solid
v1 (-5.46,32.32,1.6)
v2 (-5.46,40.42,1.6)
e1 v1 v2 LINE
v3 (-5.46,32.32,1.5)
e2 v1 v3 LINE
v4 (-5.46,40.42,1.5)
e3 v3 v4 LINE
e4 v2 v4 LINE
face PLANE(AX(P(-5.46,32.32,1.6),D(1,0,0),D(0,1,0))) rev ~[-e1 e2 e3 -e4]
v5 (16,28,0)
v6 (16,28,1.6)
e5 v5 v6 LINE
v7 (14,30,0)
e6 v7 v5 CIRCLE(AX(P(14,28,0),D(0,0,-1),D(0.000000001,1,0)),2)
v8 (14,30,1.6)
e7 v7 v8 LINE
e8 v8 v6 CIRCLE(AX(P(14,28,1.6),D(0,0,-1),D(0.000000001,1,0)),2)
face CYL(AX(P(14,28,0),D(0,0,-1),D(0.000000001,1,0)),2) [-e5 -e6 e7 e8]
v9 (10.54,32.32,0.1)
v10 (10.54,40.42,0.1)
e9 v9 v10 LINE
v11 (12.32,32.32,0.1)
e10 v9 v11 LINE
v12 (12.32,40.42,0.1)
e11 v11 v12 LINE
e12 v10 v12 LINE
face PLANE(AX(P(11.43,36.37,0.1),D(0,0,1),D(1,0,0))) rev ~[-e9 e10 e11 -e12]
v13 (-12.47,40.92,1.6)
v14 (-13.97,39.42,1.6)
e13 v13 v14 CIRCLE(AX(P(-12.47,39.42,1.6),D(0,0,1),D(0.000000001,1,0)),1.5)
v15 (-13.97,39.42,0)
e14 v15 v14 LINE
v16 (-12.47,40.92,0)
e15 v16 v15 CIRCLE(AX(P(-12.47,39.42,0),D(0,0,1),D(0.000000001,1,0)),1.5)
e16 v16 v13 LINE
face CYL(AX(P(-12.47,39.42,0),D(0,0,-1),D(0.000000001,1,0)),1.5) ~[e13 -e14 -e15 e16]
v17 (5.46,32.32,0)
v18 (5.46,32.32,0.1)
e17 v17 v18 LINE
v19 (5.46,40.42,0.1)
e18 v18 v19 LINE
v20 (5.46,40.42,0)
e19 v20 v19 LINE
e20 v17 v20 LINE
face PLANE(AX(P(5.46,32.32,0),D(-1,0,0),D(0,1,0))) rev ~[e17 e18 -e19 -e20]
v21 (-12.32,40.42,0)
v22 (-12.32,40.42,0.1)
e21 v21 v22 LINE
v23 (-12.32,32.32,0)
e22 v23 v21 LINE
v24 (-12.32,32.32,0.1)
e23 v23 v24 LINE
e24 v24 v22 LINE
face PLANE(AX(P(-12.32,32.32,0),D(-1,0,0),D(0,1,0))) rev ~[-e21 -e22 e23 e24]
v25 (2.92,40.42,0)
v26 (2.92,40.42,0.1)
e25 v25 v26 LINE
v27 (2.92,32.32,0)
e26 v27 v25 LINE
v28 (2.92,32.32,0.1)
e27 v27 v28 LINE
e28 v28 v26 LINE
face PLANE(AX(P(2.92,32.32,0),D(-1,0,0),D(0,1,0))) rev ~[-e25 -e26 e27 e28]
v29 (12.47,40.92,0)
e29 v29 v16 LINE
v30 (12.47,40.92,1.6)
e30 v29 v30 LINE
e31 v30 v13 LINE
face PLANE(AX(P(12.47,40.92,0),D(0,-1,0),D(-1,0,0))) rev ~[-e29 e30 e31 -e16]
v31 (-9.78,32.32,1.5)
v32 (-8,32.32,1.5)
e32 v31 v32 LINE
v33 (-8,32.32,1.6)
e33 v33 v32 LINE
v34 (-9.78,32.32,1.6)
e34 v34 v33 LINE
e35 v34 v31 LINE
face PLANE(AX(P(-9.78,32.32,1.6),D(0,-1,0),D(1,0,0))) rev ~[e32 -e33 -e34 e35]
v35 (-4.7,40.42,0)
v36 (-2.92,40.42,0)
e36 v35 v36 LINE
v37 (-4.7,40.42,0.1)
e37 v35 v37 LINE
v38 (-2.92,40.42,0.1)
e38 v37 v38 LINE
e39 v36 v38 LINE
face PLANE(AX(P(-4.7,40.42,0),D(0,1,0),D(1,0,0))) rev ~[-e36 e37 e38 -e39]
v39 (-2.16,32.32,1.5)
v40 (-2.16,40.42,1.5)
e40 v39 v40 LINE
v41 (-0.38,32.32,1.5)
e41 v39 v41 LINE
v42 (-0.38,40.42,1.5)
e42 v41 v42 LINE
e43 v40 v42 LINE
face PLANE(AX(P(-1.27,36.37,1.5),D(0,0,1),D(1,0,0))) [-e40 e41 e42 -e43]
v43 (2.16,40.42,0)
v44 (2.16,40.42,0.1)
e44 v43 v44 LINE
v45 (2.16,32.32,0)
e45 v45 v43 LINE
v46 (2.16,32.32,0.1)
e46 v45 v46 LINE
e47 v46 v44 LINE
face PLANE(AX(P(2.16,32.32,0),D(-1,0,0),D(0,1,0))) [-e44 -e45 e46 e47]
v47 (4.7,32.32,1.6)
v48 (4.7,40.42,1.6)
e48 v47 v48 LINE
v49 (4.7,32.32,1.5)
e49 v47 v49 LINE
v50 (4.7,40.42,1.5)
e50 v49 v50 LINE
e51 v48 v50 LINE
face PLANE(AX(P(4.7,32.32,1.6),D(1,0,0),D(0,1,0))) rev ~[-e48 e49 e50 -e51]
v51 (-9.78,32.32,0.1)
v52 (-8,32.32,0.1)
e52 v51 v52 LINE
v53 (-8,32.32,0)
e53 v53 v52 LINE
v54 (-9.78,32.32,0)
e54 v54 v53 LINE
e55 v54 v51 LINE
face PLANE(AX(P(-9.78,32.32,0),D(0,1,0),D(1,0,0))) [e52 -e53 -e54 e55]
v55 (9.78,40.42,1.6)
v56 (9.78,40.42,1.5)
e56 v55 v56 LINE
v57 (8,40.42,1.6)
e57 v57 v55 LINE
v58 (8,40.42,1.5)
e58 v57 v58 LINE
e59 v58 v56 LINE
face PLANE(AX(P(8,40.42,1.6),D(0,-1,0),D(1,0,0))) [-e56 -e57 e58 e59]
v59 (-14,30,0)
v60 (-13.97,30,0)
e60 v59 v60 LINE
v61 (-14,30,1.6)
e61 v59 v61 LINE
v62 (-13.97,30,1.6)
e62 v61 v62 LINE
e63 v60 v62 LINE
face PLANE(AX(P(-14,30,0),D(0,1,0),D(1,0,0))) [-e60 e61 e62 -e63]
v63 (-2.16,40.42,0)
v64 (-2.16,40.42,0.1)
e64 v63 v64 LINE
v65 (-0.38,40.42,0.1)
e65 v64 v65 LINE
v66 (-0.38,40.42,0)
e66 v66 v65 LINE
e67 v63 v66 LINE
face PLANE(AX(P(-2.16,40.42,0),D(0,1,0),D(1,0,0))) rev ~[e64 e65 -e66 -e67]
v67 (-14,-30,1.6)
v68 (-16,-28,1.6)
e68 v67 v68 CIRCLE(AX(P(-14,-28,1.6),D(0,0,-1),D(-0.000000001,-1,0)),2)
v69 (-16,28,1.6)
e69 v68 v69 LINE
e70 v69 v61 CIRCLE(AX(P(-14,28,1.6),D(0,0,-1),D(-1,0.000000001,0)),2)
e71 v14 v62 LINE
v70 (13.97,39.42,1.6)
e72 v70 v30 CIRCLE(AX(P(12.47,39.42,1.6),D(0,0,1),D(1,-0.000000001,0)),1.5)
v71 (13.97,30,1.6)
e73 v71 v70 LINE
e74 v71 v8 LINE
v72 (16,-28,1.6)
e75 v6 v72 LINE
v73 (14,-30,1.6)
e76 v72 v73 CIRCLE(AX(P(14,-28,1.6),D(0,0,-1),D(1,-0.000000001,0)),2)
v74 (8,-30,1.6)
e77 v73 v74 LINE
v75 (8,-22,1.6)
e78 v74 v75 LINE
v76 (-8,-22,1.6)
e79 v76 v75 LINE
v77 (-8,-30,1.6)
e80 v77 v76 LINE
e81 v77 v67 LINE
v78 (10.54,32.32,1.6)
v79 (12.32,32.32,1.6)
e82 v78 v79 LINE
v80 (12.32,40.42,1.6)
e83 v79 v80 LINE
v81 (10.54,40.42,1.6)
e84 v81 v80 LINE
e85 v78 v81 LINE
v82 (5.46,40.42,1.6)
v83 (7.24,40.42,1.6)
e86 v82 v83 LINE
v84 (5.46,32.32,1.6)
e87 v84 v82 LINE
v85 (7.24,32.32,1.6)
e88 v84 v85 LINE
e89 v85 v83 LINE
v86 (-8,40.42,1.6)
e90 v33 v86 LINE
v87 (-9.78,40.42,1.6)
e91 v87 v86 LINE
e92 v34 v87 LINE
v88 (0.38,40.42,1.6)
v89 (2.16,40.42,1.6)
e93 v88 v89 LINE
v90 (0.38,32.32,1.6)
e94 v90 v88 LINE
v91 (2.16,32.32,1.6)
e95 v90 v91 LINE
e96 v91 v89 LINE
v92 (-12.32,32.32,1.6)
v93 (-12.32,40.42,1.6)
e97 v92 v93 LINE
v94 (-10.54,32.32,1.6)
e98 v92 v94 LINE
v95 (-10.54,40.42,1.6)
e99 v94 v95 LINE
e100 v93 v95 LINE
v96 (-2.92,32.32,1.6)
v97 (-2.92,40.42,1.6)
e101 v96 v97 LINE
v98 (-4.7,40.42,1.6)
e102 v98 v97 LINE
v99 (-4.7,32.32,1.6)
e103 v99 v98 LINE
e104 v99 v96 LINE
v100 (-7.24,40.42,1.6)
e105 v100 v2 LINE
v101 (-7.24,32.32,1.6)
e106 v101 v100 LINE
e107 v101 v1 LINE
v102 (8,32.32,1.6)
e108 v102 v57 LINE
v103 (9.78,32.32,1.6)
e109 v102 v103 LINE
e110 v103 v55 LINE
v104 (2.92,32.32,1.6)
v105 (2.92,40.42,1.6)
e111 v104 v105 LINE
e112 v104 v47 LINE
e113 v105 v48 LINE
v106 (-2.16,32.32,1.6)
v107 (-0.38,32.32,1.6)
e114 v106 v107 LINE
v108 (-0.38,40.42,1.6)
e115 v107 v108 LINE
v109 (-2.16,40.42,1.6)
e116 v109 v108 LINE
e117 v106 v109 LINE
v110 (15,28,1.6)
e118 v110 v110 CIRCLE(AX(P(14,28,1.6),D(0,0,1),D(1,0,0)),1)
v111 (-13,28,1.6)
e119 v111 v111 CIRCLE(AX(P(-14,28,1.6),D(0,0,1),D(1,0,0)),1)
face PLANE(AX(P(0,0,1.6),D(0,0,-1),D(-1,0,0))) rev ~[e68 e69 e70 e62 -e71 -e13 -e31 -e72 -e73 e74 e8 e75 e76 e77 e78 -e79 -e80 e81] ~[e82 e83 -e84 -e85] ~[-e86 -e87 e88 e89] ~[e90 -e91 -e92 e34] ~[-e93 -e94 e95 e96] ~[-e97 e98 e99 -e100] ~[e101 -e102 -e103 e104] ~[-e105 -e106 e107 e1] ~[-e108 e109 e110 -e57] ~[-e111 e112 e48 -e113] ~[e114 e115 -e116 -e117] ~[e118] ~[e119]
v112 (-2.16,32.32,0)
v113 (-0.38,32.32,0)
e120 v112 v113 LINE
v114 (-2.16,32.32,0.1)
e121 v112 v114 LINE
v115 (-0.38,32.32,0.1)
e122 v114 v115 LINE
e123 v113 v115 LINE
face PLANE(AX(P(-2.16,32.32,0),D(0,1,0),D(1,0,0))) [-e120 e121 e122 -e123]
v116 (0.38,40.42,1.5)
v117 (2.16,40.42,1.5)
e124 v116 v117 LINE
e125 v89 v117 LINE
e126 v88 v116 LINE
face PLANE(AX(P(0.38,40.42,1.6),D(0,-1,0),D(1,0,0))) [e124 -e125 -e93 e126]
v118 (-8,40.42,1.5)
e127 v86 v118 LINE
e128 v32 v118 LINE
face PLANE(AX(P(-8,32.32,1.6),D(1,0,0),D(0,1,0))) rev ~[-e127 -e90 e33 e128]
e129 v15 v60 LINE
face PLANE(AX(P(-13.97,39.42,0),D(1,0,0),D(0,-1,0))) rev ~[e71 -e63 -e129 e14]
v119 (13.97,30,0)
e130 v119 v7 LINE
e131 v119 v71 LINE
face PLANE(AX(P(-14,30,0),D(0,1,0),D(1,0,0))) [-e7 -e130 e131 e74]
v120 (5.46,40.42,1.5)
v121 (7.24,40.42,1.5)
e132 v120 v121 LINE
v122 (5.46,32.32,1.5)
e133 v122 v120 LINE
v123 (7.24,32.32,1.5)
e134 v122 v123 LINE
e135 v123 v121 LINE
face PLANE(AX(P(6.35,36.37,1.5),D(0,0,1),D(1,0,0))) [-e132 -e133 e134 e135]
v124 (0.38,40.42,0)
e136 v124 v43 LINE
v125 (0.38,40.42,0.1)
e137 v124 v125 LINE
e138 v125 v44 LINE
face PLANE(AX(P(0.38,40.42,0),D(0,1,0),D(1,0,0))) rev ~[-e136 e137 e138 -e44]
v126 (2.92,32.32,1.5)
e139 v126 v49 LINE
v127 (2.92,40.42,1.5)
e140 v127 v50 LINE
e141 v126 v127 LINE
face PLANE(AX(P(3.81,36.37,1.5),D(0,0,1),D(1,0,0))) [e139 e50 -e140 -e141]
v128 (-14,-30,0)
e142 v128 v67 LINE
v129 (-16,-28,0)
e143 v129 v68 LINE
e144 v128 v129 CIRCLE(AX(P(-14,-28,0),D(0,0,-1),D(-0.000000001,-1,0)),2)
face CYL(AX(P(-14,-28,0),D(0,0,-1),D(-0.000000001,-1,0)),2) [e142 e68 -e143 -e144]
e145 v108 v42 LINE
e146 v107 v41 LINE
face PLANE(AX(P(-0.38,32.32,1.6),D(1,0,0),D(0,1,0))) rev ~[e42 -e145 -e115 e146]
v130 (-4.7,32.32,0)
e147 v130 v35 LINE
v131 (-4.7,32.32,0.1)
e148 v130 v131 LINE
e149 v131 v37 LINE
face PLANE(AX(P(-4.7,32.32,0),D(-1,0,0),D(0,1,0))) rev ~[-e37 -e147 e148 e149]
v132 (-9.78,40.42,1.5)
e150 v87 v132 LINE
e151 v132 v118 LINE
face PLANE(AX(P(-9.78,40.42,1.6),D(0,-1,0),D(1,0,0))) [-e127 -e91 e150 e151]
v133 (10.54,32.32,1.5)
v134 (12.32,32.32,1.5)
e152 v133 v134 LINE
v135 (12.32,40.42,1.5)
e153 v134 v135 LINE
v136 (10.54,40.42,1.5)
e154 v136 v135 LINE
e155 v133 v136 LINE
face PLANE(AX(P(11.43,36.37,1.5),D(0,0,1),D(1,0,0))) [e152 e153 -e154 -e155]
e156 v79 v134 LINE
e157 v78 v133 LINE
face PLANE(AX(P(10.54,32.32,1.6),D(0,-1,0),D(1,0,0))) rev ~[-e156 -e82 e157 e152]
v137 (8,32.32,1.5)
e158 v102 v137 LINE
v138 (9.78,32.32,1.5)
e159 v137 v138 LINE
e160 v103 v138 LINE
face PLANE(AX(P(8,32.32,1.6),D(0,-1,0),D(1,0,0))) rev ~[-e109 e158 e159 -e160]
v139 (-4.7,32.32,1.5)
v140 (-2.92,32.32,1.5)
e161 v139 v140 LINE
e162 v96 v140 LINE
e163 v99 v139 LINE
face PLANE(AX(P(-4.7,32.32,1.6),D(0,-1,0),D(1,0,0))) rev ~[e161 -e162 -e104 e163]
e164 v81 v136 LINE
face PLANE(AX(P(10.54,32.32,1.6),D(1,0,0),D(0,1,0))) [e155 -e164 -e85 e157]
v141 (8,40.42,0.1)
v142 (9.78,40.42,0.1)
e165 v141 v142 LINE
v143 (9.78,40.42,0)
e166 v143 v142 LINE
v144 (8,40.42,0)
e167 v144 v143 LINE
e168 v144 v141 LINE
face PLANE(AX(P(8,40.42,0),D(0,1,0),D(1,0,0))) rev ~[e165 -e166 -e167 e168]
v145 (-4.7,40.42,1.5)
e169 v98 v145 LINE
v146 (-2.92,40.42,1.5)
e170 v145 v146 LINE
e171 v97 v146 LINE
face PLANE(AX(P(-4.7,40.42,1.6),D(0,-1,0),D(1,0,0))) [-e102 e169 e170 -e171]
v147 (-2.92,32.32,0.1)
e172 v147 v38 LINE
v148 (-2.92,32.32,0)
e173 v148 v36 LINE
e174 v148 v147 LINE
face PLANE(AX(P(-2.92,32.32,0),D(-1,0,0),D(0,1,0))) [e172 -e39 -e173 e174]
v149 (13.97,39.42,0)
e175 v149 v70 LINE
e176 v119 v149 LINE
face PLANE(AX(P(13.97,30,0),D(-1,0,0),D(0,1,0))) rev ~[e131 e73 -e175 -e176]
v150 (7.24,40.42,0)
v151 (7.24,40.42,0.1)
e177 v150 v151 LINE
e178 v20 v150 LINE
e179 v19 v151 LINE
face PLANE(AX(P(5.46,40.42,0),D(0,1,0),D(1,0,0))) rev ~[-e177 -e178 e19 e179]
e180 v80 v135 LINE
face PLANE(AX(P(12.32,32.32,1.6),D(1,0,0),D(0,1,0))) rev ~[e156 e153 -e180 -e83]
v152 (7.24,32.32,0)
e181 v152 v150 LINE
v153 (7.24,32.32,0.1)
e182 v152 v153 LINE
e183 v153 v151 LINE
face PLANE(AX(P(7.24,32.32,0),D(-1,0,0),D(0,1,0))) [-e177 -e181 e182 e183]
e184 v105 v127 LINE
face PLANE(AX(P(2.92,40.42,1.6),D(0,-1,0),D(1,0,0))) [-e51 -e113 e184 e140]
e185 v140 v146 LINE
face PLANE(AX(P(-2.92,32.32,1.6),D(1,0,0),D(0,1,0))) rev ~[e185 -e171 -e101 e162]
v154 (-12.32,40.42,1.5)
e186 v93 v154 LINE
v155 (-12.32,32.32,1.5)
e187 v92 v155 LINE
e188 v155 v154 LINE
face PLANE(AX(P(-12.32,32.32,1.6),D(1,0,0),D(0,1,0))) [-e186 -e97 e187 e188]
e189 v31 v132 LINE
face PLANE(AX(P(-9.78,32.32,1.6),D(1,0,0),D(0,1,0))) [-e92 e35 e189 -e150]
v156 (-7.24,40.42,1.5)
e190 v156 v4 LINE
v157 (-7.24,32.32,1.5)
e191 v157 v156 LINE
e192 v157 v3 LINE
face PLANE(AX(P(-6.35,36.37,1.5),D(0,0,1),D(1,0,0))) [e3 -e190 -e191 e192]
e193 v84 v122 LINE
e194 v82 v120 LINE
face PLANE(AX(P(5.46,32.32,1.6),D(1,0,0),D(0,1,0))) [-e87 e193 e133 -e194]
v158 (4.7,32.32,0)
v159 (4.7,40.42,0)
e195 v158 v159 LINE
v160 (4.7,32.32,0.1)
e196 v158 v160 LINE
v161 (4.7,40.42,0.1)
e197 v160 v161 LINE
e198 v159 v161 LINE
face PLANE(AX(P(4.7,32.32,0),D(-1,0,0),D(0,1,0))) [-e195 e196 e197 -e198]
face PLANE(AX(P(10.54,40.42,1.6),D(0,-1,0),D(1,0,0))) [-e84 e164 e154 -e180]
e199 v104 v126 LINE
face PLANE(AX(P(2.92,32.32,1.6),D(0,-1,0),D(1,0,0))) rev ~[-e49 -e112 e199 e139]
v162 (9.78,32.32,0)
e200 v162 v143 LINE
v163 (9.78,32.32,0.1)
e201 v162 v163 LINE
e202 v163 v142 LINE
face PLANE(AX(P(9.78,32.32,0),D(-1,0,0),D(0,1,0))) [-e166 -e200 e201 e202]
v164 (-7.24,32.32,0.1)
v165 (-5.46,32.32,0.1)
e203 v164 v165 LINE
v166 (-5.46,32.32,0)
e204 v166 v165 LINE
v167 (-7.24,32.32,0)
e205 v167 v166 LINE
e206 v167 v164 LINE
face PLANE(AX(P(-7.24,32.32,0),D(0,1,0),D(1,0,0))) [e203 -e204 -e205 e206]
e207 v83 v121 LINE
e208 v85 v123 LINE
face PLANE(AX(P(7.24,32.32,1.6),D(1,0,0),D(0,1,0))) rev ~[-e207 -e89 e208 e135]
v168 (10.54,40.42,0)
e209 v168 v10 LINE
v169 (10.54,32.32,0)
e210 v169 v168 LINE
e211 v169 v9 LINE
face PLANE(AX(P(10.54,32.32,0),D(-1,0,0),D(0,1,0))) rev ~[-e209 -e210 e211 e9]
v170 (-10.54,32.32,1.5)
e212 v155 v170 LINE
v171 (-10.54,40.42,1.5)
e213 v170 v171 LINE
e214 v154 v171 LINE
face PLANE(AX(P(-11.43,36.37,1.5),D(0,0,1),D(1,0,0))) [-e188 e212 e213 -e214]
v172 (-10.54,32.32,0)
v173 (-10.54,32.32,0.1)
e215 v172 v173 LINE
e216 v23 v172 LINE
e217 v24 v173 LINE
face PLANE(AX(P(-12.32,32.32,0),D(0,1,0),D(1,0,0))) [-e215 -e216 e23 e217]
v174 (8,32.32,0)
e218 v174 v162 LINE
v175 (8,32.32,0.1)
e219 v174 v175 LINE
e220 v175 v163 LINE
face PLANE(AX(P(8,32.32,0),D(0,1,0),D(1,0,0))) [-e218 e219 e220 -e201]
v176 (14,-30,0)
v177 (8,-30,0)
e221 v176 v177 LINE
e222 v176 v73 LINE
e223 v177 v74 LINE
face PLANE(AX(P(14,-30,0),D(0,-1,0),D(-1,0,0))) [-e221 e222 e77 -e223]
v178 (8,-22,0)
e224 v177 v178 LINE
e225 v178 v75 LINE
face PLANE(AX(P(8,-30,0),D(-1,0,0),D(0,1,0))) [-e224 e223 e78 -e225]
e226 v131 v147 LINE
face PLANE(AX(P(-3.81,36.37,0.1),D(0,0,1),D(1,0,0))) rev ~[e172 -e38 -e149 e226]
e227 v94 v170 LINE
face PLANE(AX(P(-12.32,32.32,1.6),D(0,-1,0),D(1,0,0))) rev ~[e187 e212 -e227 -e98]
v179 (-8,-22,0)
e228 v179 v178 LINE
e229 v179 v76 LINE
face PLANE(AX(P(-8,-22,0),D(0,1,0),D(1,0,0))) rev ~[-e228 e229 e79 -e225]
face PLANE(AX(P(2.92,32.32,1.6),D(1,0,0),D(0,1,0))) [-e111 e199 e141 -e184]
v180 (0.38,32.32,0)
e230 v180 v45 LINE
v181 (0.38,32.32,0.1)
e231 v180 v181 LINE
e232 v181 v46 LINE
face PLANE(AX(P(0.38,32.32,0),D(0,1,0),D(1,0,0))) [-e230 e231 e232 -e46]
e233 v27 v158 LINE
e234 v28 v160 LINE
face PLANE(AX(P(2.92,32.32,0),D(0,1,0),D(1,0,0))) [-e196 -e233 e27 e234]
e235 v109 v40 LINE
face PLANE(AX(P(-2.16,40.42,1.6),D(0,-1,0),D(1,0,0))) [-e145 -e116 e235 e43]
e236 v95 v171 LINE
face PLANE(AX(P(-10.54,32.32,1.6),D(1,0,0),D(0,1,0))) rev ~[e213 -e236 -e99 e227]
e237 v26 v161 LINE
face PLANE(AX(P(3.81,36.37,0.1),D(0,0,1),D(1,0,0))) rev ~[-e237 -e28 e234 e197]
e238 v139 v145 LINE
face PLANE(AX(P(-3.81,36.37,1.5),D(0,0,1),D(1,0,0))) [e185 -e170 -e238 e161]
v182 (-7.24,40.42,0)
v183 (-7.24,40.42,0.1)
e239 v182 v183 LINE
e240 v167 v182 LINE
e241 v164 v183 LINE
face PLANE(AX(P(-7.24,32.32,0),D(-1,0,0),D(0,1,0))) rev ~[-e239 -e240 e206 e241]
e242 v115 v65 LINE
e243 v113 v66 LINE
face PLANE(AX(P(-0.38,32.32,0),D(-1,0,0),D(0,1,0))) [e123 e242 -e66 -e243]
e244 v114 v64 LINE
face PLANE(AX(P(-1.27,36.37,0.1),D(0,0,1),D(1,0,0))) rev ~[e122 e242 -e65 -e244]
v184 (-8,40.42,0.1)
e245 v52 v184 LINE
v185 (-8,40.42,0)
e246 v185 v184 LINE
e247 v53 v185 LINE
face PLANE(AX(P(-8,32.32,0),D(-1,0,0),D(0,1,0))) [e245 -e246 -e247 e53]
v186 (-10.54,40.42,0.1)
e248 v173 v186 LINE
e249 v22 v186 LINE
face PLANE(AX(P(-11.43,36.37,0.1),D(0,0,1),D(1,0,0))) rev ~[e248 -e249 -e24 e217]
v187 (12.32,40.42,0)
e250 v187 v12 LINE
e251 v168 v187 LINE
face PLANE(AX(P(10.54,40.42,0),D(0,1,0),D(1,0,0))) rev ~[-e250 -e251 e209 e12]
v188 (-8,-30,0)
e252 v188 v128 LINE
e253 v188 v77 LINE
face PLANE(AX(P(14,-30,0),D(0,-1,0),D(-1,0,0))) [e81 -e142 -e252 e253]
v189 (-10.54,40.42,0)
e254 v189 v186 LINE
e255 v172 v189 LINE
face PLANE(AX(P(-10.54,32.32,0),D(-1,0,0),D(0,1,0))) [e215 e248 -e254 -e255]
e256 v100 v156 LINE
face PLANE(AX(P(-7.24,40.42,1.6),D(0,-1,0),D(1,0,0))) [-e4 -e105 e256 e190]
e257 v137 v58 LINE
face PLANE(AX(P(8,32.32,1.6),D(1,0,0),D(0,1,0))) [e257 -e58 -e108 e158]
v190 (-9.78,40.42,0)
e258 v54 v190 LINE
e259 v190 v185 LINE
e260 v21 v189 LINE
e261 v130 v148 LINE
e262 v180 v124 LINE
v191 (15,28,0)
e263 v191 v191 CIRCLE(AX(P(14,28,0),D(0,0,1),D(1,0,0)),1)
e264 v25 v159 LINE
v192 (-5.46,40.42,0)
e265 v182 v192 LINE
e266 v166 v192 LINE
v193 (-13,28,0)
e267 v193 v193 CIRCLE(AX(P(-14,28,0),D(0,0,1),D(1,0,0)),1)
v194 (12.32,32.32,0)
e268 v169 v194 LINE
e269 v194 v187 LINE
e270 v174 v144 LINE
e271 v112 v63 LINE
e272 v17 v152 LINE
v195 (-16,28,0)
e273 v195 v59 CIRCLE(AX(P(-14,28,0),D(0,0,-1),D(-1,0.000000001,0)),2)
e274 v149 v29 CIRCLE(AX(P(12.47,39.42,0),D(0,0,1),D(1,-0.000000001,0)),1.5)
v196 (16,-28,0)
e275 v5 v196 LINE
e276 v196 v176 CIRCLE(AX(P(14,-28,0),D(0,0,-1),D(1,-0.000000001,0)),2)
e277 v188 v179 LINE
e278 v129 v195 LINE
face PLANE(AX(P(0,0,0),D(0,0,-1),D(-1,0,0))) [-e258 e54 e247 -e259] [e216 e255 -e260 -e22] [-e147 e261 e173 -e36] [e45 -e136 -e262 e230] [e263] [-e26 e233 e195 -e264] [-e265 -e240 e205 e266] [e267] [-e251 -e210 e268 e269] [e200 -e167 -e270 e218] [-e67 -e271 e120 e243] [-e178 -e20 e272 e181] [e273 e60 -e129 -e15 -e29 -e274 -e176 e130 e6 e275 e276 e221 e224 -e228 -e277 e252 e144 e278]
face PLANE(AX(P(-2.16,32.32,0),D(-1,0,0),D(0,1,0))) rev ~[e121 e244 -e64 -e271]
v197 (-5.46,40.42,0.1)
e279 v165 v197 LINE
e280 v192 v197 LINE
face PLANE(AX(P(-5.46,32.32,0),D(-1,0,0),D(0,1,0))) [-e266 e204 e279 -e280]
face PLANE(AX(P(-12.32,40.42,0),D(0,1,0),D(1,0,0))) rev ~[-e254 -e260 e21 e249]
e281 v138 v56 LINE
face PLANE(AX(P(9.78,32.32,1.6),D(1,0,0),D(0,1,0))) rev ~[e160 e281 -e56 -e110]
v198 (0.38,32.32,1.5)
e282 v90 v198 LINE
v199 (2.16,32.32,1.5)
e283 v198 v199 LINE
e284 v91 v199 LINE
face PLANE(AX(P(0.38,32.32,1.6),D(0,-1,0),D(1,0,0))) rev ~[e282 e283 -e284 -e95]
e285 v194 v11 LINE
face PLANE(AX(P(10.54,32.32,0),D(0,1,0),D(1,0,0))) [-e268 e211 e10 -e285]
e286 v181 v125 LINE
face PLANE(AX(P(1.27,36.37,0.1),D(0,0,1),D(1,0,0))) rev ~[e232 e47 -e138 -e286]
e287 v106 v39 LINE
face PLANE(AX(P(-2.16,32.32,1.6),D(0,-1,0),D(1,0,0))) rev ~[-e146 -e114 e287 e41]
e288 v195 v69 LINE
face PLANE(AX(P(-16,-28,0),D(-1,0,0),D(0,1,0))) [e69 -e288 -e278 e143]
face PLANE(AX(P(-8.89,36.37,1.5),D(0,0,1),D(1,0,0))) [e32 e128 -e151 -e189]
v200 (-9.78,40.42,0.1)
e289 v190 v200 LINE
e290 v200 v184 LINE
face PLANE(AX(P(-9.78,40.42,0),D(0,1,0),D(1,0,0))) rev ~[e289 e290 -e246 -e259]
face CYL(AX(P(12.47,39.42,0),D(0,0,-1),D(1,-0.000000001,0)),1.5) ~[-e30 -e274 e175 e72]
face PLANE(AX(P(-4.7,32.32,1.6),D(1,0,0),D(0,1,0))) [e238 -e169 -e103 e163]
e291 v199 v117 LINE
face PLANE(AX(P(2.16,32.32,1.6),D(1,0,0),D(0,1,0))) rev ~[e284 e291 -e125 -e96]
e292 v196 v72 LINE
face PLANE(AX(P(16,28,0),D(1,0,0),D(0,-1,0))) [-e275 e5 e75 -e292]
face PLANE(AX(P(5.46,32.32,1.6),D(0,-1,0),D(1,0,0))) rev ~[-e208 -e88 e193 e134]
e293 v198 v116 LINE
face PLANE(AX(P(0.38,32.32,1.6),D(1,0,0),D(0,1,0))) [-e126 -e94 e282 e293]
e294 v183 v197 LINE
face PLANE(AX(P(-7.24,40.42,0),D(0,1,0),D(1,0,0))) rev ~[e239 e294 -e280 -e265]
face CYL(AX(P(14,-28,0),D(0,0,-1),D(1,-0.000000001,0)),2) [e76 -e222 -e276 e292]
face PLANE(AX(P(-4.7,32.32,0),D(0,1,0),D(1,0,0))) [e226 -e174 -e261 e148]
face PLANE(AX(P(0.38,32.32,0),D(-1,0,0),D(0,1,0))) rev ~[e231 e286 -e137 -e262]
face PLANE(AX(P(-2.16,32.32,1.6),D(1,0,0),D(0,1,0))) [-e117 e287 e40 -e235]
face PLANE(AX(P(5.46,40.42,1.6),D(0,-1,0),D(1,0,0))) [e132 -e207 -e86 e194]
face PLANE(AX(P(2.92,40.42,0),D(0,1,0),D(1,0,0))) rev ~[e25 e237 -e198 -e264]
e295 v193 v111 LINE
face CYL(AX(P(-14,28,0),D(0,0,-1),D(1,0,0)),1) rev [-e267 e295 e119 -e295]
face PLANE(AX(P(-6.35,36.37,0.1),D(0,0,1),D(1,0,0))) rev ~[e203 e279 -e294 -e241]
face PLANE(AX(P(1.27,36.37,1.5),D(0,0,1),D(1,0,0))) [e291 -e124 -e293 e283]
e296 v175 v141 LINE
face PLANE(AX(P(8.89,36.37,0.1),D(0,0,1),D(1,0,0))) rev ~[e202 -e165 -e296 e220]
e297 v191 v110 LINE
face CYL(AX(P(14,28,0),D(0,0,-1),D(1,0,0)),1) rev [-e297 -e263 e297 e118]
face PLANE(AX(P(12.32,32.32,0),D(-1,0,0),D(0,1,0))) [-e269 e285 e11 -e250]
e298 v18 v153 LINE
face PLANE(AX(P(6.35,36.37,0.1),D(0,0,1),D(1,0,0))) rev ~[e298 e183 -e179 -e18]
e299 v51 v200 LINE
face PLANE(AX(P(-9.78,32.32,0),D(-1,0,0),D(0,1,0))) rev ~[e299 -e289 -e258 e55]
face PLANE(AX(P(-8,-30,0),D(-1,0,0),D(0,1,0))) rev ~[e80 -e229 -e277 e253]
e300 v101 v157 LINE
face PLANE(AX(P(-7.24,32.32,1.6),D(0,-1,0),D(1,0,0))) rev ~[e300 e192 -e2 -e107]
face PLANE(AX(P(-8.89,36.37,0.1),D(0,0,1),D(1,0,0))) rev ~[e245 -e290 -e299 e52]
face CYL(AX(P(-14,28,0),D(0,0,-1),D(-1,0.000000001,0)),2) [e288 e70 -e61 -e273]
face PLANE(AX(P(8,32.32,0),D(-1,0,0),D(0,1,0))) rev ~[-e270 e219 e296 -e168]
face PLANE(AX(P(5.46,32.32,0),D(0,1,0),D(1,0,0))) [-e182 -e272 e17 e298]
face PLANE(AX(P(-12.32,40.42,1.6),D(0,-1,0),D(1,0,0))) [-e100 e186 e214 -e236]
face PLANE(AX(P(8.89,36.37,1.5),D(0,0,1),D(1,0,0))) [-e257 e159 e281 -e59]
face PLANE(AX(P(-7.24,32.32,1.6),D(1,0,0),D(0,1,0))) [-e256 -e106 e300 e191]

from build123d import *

# Parameters (mm, degrees)
SKETCH_1_R          = 1
EXTRUDE_1_DEPTH     = 1.6
SKETCH_2_W          = 16
SKETCH_2_H          = 8
CUT_EXTRUDE_1_DEPTH = 1.6
EXTRUDE_2_DEPTH     = 1.6
SKETCH_4_W          = 1.78
SKETCH_4_H          = 8.1
CUT_EXTRUDE_2_DEPTH = 0.1
CUT_EXTRUDE_START   = 1.6
SKETCH_5_W          = 1.78
SKETCH_5_H          = 8.1
CUT_EXTRUDE_3_DEPTH = 0.1


with BuildPart() as part:
    # 草图1 → 凸台-拉伸1 (new body)
    with BuildSketch(Plane.XY):
        with BuildLine():
            Line((-14, 30), (14, 30))
            ThreePointArc((14, 30), (15.414213562, 29.414213562), (16, 28))
            Line((16, 28), (16, -28))
            ThreePointArc((16, -28), (15.414213562, -29.414213562), (14, -30))
            Line((14, -30), (-14, -30))
            ThreePointArc((-14, -30), (-15.414213562, -29.414213562), (-16, -28))
            Line((-16, -28), (-16, 28))
            ThreePointArc((-16, 28), (-15.414213562, 29.414213562), (-14, 30))
        make_face()
        with Locations((-14, 28)):
            Circle(SKETCH_1_R, mode=Mode.SUBTRACT)
        with Locations((14, 28)):
            Circle(SKETCH_1_R, mode=Mode.SUBTRACT)
    extrude(amount=EXTRUDE_1_DEPTH)

    # 草图2 → 切除-拉伸1 (cut)
    with BuildSketch(Plane.XY):
        with Locations((0, -26)):
            Rectangle(SKETCH_2_W, SKETCH_2_H)
    extrude(amount=CUT_EXTRUDE_1_DEPTH, mode=Mode.SUBTRACT)

    # 草图3 → 凸台-拉伸2 (add)
    with BuildSketch(Plane.XY):
        with BuildLine():
            Line((-13.97, 30), (13.97, 30))
            Line((13.97, 30), (13.97, 39.42))
            ThreePointArc((13.97, 39.42), (13.530660172, 40.480660172), (12.47, 40.92))
            Line((12.47, 40.92), (-12.47, 40.92))
            ThreePointArc((-12.47, 40.92), (-13.530660172, 40.480660172), (-13.97, 39.42))
            Line((-13.97, 39.42), (-13.97, 30))
        make_face()
    extrude(amount=EXTRUDE_2_DEPTH)

    # 草图4 → 切除-拉伸2 (cut)
    with BuildSketch(Plane.XY):
        with Locations((-1.27, 36.37)):
            Rectangle(SKETCH_4_W, SKETCH_4_H)
        with Locations((-3.81, 36.37)):
            Rectangle(SKETCH_4_W, SKETCH_4_H)
        with Locations((-6.35, 36.37)):
            Rectangle(SKETCH_4_W, SKETCH_4_H)
        with Locations((-8.89, 36.37)):
            Rectangle(SKETCH_4_W, SKETCH_4_H)
        with Locations((-11.43, 36.37)):
            Rectangle(SKETCH_4_W, SKETCH_4_H)
        with Locations((11.43, 36.37)):
            Rectangle(SKETCH_4_W, SKETCH_4_H)
        with Locations((8.89, 36.37)):
            Rectangle(SKETCH_4_W, SKETCH_4_H)
        with Locations((6.35, 36.37)):
            Rectangle(SKETCH_4_W, SKETCH_4_H)
        with Locations((3.81, 36.37)):
            Rectangle(SKETCH_4_W, SKETCH_4_H)
        with Locations((1.27, 36.37)):
            Rectangle(SKETCH_4_W, SKETCH_4_H)
    extrude(amount=CUT_EXTRUDE_2_DEPTH, mode=Mode.SUBTRACT)

    # 草图5 → 切除-拉伸3 (cut)
    with BuildSketch(Plane.XY.offset(CUT_EXTRUDE_START)):
        with Locations((-3.81, 36.37)):
            Rectangle(SKETCH_5_W, SKETCH_5_H)
        with Locations((-1.27, 36.37)):
            Rectangle(SKETCH_5_W, SKETCH_5_H)
        with Locations((-11.43, 36.37)):
            Rectangle(SKETCH_5_W, SKETCH_5_H)
        with Locations((-8.89, 36.37)):
            Rectangle(SKETCH_5_W, SKETCH_5_H)
        with Locations((-6.35, 36.37)):
            Rectangle(SKETCH_5_W, SKETCH_5_H)
        with Locations((1.27, 36.37)):
            Rectangle(SKETCH_5_W, SKETCH_5_H)
        with Locations((3.81, 36.37)):
            Rectangle(SKETCH_5_W, SKETCH_5_H)
        with Locations((6.35, 36.37)):
            Rectangle(SKETCH_5_W, SKETCH_5_H)
        with Locations((8.89, 36.37)):
            Rectangle(SKETCH_5_W, SKETCH_5_H)
        with Locations((11.43, 36.37)):
            Rectangle(SKETCH_5_W, SKETCH_5_H)
    extrude(amount=-CUT_EXTRUDE_3_DEPTH, mode=Mode.SUBTRACT)


solid = part.part
